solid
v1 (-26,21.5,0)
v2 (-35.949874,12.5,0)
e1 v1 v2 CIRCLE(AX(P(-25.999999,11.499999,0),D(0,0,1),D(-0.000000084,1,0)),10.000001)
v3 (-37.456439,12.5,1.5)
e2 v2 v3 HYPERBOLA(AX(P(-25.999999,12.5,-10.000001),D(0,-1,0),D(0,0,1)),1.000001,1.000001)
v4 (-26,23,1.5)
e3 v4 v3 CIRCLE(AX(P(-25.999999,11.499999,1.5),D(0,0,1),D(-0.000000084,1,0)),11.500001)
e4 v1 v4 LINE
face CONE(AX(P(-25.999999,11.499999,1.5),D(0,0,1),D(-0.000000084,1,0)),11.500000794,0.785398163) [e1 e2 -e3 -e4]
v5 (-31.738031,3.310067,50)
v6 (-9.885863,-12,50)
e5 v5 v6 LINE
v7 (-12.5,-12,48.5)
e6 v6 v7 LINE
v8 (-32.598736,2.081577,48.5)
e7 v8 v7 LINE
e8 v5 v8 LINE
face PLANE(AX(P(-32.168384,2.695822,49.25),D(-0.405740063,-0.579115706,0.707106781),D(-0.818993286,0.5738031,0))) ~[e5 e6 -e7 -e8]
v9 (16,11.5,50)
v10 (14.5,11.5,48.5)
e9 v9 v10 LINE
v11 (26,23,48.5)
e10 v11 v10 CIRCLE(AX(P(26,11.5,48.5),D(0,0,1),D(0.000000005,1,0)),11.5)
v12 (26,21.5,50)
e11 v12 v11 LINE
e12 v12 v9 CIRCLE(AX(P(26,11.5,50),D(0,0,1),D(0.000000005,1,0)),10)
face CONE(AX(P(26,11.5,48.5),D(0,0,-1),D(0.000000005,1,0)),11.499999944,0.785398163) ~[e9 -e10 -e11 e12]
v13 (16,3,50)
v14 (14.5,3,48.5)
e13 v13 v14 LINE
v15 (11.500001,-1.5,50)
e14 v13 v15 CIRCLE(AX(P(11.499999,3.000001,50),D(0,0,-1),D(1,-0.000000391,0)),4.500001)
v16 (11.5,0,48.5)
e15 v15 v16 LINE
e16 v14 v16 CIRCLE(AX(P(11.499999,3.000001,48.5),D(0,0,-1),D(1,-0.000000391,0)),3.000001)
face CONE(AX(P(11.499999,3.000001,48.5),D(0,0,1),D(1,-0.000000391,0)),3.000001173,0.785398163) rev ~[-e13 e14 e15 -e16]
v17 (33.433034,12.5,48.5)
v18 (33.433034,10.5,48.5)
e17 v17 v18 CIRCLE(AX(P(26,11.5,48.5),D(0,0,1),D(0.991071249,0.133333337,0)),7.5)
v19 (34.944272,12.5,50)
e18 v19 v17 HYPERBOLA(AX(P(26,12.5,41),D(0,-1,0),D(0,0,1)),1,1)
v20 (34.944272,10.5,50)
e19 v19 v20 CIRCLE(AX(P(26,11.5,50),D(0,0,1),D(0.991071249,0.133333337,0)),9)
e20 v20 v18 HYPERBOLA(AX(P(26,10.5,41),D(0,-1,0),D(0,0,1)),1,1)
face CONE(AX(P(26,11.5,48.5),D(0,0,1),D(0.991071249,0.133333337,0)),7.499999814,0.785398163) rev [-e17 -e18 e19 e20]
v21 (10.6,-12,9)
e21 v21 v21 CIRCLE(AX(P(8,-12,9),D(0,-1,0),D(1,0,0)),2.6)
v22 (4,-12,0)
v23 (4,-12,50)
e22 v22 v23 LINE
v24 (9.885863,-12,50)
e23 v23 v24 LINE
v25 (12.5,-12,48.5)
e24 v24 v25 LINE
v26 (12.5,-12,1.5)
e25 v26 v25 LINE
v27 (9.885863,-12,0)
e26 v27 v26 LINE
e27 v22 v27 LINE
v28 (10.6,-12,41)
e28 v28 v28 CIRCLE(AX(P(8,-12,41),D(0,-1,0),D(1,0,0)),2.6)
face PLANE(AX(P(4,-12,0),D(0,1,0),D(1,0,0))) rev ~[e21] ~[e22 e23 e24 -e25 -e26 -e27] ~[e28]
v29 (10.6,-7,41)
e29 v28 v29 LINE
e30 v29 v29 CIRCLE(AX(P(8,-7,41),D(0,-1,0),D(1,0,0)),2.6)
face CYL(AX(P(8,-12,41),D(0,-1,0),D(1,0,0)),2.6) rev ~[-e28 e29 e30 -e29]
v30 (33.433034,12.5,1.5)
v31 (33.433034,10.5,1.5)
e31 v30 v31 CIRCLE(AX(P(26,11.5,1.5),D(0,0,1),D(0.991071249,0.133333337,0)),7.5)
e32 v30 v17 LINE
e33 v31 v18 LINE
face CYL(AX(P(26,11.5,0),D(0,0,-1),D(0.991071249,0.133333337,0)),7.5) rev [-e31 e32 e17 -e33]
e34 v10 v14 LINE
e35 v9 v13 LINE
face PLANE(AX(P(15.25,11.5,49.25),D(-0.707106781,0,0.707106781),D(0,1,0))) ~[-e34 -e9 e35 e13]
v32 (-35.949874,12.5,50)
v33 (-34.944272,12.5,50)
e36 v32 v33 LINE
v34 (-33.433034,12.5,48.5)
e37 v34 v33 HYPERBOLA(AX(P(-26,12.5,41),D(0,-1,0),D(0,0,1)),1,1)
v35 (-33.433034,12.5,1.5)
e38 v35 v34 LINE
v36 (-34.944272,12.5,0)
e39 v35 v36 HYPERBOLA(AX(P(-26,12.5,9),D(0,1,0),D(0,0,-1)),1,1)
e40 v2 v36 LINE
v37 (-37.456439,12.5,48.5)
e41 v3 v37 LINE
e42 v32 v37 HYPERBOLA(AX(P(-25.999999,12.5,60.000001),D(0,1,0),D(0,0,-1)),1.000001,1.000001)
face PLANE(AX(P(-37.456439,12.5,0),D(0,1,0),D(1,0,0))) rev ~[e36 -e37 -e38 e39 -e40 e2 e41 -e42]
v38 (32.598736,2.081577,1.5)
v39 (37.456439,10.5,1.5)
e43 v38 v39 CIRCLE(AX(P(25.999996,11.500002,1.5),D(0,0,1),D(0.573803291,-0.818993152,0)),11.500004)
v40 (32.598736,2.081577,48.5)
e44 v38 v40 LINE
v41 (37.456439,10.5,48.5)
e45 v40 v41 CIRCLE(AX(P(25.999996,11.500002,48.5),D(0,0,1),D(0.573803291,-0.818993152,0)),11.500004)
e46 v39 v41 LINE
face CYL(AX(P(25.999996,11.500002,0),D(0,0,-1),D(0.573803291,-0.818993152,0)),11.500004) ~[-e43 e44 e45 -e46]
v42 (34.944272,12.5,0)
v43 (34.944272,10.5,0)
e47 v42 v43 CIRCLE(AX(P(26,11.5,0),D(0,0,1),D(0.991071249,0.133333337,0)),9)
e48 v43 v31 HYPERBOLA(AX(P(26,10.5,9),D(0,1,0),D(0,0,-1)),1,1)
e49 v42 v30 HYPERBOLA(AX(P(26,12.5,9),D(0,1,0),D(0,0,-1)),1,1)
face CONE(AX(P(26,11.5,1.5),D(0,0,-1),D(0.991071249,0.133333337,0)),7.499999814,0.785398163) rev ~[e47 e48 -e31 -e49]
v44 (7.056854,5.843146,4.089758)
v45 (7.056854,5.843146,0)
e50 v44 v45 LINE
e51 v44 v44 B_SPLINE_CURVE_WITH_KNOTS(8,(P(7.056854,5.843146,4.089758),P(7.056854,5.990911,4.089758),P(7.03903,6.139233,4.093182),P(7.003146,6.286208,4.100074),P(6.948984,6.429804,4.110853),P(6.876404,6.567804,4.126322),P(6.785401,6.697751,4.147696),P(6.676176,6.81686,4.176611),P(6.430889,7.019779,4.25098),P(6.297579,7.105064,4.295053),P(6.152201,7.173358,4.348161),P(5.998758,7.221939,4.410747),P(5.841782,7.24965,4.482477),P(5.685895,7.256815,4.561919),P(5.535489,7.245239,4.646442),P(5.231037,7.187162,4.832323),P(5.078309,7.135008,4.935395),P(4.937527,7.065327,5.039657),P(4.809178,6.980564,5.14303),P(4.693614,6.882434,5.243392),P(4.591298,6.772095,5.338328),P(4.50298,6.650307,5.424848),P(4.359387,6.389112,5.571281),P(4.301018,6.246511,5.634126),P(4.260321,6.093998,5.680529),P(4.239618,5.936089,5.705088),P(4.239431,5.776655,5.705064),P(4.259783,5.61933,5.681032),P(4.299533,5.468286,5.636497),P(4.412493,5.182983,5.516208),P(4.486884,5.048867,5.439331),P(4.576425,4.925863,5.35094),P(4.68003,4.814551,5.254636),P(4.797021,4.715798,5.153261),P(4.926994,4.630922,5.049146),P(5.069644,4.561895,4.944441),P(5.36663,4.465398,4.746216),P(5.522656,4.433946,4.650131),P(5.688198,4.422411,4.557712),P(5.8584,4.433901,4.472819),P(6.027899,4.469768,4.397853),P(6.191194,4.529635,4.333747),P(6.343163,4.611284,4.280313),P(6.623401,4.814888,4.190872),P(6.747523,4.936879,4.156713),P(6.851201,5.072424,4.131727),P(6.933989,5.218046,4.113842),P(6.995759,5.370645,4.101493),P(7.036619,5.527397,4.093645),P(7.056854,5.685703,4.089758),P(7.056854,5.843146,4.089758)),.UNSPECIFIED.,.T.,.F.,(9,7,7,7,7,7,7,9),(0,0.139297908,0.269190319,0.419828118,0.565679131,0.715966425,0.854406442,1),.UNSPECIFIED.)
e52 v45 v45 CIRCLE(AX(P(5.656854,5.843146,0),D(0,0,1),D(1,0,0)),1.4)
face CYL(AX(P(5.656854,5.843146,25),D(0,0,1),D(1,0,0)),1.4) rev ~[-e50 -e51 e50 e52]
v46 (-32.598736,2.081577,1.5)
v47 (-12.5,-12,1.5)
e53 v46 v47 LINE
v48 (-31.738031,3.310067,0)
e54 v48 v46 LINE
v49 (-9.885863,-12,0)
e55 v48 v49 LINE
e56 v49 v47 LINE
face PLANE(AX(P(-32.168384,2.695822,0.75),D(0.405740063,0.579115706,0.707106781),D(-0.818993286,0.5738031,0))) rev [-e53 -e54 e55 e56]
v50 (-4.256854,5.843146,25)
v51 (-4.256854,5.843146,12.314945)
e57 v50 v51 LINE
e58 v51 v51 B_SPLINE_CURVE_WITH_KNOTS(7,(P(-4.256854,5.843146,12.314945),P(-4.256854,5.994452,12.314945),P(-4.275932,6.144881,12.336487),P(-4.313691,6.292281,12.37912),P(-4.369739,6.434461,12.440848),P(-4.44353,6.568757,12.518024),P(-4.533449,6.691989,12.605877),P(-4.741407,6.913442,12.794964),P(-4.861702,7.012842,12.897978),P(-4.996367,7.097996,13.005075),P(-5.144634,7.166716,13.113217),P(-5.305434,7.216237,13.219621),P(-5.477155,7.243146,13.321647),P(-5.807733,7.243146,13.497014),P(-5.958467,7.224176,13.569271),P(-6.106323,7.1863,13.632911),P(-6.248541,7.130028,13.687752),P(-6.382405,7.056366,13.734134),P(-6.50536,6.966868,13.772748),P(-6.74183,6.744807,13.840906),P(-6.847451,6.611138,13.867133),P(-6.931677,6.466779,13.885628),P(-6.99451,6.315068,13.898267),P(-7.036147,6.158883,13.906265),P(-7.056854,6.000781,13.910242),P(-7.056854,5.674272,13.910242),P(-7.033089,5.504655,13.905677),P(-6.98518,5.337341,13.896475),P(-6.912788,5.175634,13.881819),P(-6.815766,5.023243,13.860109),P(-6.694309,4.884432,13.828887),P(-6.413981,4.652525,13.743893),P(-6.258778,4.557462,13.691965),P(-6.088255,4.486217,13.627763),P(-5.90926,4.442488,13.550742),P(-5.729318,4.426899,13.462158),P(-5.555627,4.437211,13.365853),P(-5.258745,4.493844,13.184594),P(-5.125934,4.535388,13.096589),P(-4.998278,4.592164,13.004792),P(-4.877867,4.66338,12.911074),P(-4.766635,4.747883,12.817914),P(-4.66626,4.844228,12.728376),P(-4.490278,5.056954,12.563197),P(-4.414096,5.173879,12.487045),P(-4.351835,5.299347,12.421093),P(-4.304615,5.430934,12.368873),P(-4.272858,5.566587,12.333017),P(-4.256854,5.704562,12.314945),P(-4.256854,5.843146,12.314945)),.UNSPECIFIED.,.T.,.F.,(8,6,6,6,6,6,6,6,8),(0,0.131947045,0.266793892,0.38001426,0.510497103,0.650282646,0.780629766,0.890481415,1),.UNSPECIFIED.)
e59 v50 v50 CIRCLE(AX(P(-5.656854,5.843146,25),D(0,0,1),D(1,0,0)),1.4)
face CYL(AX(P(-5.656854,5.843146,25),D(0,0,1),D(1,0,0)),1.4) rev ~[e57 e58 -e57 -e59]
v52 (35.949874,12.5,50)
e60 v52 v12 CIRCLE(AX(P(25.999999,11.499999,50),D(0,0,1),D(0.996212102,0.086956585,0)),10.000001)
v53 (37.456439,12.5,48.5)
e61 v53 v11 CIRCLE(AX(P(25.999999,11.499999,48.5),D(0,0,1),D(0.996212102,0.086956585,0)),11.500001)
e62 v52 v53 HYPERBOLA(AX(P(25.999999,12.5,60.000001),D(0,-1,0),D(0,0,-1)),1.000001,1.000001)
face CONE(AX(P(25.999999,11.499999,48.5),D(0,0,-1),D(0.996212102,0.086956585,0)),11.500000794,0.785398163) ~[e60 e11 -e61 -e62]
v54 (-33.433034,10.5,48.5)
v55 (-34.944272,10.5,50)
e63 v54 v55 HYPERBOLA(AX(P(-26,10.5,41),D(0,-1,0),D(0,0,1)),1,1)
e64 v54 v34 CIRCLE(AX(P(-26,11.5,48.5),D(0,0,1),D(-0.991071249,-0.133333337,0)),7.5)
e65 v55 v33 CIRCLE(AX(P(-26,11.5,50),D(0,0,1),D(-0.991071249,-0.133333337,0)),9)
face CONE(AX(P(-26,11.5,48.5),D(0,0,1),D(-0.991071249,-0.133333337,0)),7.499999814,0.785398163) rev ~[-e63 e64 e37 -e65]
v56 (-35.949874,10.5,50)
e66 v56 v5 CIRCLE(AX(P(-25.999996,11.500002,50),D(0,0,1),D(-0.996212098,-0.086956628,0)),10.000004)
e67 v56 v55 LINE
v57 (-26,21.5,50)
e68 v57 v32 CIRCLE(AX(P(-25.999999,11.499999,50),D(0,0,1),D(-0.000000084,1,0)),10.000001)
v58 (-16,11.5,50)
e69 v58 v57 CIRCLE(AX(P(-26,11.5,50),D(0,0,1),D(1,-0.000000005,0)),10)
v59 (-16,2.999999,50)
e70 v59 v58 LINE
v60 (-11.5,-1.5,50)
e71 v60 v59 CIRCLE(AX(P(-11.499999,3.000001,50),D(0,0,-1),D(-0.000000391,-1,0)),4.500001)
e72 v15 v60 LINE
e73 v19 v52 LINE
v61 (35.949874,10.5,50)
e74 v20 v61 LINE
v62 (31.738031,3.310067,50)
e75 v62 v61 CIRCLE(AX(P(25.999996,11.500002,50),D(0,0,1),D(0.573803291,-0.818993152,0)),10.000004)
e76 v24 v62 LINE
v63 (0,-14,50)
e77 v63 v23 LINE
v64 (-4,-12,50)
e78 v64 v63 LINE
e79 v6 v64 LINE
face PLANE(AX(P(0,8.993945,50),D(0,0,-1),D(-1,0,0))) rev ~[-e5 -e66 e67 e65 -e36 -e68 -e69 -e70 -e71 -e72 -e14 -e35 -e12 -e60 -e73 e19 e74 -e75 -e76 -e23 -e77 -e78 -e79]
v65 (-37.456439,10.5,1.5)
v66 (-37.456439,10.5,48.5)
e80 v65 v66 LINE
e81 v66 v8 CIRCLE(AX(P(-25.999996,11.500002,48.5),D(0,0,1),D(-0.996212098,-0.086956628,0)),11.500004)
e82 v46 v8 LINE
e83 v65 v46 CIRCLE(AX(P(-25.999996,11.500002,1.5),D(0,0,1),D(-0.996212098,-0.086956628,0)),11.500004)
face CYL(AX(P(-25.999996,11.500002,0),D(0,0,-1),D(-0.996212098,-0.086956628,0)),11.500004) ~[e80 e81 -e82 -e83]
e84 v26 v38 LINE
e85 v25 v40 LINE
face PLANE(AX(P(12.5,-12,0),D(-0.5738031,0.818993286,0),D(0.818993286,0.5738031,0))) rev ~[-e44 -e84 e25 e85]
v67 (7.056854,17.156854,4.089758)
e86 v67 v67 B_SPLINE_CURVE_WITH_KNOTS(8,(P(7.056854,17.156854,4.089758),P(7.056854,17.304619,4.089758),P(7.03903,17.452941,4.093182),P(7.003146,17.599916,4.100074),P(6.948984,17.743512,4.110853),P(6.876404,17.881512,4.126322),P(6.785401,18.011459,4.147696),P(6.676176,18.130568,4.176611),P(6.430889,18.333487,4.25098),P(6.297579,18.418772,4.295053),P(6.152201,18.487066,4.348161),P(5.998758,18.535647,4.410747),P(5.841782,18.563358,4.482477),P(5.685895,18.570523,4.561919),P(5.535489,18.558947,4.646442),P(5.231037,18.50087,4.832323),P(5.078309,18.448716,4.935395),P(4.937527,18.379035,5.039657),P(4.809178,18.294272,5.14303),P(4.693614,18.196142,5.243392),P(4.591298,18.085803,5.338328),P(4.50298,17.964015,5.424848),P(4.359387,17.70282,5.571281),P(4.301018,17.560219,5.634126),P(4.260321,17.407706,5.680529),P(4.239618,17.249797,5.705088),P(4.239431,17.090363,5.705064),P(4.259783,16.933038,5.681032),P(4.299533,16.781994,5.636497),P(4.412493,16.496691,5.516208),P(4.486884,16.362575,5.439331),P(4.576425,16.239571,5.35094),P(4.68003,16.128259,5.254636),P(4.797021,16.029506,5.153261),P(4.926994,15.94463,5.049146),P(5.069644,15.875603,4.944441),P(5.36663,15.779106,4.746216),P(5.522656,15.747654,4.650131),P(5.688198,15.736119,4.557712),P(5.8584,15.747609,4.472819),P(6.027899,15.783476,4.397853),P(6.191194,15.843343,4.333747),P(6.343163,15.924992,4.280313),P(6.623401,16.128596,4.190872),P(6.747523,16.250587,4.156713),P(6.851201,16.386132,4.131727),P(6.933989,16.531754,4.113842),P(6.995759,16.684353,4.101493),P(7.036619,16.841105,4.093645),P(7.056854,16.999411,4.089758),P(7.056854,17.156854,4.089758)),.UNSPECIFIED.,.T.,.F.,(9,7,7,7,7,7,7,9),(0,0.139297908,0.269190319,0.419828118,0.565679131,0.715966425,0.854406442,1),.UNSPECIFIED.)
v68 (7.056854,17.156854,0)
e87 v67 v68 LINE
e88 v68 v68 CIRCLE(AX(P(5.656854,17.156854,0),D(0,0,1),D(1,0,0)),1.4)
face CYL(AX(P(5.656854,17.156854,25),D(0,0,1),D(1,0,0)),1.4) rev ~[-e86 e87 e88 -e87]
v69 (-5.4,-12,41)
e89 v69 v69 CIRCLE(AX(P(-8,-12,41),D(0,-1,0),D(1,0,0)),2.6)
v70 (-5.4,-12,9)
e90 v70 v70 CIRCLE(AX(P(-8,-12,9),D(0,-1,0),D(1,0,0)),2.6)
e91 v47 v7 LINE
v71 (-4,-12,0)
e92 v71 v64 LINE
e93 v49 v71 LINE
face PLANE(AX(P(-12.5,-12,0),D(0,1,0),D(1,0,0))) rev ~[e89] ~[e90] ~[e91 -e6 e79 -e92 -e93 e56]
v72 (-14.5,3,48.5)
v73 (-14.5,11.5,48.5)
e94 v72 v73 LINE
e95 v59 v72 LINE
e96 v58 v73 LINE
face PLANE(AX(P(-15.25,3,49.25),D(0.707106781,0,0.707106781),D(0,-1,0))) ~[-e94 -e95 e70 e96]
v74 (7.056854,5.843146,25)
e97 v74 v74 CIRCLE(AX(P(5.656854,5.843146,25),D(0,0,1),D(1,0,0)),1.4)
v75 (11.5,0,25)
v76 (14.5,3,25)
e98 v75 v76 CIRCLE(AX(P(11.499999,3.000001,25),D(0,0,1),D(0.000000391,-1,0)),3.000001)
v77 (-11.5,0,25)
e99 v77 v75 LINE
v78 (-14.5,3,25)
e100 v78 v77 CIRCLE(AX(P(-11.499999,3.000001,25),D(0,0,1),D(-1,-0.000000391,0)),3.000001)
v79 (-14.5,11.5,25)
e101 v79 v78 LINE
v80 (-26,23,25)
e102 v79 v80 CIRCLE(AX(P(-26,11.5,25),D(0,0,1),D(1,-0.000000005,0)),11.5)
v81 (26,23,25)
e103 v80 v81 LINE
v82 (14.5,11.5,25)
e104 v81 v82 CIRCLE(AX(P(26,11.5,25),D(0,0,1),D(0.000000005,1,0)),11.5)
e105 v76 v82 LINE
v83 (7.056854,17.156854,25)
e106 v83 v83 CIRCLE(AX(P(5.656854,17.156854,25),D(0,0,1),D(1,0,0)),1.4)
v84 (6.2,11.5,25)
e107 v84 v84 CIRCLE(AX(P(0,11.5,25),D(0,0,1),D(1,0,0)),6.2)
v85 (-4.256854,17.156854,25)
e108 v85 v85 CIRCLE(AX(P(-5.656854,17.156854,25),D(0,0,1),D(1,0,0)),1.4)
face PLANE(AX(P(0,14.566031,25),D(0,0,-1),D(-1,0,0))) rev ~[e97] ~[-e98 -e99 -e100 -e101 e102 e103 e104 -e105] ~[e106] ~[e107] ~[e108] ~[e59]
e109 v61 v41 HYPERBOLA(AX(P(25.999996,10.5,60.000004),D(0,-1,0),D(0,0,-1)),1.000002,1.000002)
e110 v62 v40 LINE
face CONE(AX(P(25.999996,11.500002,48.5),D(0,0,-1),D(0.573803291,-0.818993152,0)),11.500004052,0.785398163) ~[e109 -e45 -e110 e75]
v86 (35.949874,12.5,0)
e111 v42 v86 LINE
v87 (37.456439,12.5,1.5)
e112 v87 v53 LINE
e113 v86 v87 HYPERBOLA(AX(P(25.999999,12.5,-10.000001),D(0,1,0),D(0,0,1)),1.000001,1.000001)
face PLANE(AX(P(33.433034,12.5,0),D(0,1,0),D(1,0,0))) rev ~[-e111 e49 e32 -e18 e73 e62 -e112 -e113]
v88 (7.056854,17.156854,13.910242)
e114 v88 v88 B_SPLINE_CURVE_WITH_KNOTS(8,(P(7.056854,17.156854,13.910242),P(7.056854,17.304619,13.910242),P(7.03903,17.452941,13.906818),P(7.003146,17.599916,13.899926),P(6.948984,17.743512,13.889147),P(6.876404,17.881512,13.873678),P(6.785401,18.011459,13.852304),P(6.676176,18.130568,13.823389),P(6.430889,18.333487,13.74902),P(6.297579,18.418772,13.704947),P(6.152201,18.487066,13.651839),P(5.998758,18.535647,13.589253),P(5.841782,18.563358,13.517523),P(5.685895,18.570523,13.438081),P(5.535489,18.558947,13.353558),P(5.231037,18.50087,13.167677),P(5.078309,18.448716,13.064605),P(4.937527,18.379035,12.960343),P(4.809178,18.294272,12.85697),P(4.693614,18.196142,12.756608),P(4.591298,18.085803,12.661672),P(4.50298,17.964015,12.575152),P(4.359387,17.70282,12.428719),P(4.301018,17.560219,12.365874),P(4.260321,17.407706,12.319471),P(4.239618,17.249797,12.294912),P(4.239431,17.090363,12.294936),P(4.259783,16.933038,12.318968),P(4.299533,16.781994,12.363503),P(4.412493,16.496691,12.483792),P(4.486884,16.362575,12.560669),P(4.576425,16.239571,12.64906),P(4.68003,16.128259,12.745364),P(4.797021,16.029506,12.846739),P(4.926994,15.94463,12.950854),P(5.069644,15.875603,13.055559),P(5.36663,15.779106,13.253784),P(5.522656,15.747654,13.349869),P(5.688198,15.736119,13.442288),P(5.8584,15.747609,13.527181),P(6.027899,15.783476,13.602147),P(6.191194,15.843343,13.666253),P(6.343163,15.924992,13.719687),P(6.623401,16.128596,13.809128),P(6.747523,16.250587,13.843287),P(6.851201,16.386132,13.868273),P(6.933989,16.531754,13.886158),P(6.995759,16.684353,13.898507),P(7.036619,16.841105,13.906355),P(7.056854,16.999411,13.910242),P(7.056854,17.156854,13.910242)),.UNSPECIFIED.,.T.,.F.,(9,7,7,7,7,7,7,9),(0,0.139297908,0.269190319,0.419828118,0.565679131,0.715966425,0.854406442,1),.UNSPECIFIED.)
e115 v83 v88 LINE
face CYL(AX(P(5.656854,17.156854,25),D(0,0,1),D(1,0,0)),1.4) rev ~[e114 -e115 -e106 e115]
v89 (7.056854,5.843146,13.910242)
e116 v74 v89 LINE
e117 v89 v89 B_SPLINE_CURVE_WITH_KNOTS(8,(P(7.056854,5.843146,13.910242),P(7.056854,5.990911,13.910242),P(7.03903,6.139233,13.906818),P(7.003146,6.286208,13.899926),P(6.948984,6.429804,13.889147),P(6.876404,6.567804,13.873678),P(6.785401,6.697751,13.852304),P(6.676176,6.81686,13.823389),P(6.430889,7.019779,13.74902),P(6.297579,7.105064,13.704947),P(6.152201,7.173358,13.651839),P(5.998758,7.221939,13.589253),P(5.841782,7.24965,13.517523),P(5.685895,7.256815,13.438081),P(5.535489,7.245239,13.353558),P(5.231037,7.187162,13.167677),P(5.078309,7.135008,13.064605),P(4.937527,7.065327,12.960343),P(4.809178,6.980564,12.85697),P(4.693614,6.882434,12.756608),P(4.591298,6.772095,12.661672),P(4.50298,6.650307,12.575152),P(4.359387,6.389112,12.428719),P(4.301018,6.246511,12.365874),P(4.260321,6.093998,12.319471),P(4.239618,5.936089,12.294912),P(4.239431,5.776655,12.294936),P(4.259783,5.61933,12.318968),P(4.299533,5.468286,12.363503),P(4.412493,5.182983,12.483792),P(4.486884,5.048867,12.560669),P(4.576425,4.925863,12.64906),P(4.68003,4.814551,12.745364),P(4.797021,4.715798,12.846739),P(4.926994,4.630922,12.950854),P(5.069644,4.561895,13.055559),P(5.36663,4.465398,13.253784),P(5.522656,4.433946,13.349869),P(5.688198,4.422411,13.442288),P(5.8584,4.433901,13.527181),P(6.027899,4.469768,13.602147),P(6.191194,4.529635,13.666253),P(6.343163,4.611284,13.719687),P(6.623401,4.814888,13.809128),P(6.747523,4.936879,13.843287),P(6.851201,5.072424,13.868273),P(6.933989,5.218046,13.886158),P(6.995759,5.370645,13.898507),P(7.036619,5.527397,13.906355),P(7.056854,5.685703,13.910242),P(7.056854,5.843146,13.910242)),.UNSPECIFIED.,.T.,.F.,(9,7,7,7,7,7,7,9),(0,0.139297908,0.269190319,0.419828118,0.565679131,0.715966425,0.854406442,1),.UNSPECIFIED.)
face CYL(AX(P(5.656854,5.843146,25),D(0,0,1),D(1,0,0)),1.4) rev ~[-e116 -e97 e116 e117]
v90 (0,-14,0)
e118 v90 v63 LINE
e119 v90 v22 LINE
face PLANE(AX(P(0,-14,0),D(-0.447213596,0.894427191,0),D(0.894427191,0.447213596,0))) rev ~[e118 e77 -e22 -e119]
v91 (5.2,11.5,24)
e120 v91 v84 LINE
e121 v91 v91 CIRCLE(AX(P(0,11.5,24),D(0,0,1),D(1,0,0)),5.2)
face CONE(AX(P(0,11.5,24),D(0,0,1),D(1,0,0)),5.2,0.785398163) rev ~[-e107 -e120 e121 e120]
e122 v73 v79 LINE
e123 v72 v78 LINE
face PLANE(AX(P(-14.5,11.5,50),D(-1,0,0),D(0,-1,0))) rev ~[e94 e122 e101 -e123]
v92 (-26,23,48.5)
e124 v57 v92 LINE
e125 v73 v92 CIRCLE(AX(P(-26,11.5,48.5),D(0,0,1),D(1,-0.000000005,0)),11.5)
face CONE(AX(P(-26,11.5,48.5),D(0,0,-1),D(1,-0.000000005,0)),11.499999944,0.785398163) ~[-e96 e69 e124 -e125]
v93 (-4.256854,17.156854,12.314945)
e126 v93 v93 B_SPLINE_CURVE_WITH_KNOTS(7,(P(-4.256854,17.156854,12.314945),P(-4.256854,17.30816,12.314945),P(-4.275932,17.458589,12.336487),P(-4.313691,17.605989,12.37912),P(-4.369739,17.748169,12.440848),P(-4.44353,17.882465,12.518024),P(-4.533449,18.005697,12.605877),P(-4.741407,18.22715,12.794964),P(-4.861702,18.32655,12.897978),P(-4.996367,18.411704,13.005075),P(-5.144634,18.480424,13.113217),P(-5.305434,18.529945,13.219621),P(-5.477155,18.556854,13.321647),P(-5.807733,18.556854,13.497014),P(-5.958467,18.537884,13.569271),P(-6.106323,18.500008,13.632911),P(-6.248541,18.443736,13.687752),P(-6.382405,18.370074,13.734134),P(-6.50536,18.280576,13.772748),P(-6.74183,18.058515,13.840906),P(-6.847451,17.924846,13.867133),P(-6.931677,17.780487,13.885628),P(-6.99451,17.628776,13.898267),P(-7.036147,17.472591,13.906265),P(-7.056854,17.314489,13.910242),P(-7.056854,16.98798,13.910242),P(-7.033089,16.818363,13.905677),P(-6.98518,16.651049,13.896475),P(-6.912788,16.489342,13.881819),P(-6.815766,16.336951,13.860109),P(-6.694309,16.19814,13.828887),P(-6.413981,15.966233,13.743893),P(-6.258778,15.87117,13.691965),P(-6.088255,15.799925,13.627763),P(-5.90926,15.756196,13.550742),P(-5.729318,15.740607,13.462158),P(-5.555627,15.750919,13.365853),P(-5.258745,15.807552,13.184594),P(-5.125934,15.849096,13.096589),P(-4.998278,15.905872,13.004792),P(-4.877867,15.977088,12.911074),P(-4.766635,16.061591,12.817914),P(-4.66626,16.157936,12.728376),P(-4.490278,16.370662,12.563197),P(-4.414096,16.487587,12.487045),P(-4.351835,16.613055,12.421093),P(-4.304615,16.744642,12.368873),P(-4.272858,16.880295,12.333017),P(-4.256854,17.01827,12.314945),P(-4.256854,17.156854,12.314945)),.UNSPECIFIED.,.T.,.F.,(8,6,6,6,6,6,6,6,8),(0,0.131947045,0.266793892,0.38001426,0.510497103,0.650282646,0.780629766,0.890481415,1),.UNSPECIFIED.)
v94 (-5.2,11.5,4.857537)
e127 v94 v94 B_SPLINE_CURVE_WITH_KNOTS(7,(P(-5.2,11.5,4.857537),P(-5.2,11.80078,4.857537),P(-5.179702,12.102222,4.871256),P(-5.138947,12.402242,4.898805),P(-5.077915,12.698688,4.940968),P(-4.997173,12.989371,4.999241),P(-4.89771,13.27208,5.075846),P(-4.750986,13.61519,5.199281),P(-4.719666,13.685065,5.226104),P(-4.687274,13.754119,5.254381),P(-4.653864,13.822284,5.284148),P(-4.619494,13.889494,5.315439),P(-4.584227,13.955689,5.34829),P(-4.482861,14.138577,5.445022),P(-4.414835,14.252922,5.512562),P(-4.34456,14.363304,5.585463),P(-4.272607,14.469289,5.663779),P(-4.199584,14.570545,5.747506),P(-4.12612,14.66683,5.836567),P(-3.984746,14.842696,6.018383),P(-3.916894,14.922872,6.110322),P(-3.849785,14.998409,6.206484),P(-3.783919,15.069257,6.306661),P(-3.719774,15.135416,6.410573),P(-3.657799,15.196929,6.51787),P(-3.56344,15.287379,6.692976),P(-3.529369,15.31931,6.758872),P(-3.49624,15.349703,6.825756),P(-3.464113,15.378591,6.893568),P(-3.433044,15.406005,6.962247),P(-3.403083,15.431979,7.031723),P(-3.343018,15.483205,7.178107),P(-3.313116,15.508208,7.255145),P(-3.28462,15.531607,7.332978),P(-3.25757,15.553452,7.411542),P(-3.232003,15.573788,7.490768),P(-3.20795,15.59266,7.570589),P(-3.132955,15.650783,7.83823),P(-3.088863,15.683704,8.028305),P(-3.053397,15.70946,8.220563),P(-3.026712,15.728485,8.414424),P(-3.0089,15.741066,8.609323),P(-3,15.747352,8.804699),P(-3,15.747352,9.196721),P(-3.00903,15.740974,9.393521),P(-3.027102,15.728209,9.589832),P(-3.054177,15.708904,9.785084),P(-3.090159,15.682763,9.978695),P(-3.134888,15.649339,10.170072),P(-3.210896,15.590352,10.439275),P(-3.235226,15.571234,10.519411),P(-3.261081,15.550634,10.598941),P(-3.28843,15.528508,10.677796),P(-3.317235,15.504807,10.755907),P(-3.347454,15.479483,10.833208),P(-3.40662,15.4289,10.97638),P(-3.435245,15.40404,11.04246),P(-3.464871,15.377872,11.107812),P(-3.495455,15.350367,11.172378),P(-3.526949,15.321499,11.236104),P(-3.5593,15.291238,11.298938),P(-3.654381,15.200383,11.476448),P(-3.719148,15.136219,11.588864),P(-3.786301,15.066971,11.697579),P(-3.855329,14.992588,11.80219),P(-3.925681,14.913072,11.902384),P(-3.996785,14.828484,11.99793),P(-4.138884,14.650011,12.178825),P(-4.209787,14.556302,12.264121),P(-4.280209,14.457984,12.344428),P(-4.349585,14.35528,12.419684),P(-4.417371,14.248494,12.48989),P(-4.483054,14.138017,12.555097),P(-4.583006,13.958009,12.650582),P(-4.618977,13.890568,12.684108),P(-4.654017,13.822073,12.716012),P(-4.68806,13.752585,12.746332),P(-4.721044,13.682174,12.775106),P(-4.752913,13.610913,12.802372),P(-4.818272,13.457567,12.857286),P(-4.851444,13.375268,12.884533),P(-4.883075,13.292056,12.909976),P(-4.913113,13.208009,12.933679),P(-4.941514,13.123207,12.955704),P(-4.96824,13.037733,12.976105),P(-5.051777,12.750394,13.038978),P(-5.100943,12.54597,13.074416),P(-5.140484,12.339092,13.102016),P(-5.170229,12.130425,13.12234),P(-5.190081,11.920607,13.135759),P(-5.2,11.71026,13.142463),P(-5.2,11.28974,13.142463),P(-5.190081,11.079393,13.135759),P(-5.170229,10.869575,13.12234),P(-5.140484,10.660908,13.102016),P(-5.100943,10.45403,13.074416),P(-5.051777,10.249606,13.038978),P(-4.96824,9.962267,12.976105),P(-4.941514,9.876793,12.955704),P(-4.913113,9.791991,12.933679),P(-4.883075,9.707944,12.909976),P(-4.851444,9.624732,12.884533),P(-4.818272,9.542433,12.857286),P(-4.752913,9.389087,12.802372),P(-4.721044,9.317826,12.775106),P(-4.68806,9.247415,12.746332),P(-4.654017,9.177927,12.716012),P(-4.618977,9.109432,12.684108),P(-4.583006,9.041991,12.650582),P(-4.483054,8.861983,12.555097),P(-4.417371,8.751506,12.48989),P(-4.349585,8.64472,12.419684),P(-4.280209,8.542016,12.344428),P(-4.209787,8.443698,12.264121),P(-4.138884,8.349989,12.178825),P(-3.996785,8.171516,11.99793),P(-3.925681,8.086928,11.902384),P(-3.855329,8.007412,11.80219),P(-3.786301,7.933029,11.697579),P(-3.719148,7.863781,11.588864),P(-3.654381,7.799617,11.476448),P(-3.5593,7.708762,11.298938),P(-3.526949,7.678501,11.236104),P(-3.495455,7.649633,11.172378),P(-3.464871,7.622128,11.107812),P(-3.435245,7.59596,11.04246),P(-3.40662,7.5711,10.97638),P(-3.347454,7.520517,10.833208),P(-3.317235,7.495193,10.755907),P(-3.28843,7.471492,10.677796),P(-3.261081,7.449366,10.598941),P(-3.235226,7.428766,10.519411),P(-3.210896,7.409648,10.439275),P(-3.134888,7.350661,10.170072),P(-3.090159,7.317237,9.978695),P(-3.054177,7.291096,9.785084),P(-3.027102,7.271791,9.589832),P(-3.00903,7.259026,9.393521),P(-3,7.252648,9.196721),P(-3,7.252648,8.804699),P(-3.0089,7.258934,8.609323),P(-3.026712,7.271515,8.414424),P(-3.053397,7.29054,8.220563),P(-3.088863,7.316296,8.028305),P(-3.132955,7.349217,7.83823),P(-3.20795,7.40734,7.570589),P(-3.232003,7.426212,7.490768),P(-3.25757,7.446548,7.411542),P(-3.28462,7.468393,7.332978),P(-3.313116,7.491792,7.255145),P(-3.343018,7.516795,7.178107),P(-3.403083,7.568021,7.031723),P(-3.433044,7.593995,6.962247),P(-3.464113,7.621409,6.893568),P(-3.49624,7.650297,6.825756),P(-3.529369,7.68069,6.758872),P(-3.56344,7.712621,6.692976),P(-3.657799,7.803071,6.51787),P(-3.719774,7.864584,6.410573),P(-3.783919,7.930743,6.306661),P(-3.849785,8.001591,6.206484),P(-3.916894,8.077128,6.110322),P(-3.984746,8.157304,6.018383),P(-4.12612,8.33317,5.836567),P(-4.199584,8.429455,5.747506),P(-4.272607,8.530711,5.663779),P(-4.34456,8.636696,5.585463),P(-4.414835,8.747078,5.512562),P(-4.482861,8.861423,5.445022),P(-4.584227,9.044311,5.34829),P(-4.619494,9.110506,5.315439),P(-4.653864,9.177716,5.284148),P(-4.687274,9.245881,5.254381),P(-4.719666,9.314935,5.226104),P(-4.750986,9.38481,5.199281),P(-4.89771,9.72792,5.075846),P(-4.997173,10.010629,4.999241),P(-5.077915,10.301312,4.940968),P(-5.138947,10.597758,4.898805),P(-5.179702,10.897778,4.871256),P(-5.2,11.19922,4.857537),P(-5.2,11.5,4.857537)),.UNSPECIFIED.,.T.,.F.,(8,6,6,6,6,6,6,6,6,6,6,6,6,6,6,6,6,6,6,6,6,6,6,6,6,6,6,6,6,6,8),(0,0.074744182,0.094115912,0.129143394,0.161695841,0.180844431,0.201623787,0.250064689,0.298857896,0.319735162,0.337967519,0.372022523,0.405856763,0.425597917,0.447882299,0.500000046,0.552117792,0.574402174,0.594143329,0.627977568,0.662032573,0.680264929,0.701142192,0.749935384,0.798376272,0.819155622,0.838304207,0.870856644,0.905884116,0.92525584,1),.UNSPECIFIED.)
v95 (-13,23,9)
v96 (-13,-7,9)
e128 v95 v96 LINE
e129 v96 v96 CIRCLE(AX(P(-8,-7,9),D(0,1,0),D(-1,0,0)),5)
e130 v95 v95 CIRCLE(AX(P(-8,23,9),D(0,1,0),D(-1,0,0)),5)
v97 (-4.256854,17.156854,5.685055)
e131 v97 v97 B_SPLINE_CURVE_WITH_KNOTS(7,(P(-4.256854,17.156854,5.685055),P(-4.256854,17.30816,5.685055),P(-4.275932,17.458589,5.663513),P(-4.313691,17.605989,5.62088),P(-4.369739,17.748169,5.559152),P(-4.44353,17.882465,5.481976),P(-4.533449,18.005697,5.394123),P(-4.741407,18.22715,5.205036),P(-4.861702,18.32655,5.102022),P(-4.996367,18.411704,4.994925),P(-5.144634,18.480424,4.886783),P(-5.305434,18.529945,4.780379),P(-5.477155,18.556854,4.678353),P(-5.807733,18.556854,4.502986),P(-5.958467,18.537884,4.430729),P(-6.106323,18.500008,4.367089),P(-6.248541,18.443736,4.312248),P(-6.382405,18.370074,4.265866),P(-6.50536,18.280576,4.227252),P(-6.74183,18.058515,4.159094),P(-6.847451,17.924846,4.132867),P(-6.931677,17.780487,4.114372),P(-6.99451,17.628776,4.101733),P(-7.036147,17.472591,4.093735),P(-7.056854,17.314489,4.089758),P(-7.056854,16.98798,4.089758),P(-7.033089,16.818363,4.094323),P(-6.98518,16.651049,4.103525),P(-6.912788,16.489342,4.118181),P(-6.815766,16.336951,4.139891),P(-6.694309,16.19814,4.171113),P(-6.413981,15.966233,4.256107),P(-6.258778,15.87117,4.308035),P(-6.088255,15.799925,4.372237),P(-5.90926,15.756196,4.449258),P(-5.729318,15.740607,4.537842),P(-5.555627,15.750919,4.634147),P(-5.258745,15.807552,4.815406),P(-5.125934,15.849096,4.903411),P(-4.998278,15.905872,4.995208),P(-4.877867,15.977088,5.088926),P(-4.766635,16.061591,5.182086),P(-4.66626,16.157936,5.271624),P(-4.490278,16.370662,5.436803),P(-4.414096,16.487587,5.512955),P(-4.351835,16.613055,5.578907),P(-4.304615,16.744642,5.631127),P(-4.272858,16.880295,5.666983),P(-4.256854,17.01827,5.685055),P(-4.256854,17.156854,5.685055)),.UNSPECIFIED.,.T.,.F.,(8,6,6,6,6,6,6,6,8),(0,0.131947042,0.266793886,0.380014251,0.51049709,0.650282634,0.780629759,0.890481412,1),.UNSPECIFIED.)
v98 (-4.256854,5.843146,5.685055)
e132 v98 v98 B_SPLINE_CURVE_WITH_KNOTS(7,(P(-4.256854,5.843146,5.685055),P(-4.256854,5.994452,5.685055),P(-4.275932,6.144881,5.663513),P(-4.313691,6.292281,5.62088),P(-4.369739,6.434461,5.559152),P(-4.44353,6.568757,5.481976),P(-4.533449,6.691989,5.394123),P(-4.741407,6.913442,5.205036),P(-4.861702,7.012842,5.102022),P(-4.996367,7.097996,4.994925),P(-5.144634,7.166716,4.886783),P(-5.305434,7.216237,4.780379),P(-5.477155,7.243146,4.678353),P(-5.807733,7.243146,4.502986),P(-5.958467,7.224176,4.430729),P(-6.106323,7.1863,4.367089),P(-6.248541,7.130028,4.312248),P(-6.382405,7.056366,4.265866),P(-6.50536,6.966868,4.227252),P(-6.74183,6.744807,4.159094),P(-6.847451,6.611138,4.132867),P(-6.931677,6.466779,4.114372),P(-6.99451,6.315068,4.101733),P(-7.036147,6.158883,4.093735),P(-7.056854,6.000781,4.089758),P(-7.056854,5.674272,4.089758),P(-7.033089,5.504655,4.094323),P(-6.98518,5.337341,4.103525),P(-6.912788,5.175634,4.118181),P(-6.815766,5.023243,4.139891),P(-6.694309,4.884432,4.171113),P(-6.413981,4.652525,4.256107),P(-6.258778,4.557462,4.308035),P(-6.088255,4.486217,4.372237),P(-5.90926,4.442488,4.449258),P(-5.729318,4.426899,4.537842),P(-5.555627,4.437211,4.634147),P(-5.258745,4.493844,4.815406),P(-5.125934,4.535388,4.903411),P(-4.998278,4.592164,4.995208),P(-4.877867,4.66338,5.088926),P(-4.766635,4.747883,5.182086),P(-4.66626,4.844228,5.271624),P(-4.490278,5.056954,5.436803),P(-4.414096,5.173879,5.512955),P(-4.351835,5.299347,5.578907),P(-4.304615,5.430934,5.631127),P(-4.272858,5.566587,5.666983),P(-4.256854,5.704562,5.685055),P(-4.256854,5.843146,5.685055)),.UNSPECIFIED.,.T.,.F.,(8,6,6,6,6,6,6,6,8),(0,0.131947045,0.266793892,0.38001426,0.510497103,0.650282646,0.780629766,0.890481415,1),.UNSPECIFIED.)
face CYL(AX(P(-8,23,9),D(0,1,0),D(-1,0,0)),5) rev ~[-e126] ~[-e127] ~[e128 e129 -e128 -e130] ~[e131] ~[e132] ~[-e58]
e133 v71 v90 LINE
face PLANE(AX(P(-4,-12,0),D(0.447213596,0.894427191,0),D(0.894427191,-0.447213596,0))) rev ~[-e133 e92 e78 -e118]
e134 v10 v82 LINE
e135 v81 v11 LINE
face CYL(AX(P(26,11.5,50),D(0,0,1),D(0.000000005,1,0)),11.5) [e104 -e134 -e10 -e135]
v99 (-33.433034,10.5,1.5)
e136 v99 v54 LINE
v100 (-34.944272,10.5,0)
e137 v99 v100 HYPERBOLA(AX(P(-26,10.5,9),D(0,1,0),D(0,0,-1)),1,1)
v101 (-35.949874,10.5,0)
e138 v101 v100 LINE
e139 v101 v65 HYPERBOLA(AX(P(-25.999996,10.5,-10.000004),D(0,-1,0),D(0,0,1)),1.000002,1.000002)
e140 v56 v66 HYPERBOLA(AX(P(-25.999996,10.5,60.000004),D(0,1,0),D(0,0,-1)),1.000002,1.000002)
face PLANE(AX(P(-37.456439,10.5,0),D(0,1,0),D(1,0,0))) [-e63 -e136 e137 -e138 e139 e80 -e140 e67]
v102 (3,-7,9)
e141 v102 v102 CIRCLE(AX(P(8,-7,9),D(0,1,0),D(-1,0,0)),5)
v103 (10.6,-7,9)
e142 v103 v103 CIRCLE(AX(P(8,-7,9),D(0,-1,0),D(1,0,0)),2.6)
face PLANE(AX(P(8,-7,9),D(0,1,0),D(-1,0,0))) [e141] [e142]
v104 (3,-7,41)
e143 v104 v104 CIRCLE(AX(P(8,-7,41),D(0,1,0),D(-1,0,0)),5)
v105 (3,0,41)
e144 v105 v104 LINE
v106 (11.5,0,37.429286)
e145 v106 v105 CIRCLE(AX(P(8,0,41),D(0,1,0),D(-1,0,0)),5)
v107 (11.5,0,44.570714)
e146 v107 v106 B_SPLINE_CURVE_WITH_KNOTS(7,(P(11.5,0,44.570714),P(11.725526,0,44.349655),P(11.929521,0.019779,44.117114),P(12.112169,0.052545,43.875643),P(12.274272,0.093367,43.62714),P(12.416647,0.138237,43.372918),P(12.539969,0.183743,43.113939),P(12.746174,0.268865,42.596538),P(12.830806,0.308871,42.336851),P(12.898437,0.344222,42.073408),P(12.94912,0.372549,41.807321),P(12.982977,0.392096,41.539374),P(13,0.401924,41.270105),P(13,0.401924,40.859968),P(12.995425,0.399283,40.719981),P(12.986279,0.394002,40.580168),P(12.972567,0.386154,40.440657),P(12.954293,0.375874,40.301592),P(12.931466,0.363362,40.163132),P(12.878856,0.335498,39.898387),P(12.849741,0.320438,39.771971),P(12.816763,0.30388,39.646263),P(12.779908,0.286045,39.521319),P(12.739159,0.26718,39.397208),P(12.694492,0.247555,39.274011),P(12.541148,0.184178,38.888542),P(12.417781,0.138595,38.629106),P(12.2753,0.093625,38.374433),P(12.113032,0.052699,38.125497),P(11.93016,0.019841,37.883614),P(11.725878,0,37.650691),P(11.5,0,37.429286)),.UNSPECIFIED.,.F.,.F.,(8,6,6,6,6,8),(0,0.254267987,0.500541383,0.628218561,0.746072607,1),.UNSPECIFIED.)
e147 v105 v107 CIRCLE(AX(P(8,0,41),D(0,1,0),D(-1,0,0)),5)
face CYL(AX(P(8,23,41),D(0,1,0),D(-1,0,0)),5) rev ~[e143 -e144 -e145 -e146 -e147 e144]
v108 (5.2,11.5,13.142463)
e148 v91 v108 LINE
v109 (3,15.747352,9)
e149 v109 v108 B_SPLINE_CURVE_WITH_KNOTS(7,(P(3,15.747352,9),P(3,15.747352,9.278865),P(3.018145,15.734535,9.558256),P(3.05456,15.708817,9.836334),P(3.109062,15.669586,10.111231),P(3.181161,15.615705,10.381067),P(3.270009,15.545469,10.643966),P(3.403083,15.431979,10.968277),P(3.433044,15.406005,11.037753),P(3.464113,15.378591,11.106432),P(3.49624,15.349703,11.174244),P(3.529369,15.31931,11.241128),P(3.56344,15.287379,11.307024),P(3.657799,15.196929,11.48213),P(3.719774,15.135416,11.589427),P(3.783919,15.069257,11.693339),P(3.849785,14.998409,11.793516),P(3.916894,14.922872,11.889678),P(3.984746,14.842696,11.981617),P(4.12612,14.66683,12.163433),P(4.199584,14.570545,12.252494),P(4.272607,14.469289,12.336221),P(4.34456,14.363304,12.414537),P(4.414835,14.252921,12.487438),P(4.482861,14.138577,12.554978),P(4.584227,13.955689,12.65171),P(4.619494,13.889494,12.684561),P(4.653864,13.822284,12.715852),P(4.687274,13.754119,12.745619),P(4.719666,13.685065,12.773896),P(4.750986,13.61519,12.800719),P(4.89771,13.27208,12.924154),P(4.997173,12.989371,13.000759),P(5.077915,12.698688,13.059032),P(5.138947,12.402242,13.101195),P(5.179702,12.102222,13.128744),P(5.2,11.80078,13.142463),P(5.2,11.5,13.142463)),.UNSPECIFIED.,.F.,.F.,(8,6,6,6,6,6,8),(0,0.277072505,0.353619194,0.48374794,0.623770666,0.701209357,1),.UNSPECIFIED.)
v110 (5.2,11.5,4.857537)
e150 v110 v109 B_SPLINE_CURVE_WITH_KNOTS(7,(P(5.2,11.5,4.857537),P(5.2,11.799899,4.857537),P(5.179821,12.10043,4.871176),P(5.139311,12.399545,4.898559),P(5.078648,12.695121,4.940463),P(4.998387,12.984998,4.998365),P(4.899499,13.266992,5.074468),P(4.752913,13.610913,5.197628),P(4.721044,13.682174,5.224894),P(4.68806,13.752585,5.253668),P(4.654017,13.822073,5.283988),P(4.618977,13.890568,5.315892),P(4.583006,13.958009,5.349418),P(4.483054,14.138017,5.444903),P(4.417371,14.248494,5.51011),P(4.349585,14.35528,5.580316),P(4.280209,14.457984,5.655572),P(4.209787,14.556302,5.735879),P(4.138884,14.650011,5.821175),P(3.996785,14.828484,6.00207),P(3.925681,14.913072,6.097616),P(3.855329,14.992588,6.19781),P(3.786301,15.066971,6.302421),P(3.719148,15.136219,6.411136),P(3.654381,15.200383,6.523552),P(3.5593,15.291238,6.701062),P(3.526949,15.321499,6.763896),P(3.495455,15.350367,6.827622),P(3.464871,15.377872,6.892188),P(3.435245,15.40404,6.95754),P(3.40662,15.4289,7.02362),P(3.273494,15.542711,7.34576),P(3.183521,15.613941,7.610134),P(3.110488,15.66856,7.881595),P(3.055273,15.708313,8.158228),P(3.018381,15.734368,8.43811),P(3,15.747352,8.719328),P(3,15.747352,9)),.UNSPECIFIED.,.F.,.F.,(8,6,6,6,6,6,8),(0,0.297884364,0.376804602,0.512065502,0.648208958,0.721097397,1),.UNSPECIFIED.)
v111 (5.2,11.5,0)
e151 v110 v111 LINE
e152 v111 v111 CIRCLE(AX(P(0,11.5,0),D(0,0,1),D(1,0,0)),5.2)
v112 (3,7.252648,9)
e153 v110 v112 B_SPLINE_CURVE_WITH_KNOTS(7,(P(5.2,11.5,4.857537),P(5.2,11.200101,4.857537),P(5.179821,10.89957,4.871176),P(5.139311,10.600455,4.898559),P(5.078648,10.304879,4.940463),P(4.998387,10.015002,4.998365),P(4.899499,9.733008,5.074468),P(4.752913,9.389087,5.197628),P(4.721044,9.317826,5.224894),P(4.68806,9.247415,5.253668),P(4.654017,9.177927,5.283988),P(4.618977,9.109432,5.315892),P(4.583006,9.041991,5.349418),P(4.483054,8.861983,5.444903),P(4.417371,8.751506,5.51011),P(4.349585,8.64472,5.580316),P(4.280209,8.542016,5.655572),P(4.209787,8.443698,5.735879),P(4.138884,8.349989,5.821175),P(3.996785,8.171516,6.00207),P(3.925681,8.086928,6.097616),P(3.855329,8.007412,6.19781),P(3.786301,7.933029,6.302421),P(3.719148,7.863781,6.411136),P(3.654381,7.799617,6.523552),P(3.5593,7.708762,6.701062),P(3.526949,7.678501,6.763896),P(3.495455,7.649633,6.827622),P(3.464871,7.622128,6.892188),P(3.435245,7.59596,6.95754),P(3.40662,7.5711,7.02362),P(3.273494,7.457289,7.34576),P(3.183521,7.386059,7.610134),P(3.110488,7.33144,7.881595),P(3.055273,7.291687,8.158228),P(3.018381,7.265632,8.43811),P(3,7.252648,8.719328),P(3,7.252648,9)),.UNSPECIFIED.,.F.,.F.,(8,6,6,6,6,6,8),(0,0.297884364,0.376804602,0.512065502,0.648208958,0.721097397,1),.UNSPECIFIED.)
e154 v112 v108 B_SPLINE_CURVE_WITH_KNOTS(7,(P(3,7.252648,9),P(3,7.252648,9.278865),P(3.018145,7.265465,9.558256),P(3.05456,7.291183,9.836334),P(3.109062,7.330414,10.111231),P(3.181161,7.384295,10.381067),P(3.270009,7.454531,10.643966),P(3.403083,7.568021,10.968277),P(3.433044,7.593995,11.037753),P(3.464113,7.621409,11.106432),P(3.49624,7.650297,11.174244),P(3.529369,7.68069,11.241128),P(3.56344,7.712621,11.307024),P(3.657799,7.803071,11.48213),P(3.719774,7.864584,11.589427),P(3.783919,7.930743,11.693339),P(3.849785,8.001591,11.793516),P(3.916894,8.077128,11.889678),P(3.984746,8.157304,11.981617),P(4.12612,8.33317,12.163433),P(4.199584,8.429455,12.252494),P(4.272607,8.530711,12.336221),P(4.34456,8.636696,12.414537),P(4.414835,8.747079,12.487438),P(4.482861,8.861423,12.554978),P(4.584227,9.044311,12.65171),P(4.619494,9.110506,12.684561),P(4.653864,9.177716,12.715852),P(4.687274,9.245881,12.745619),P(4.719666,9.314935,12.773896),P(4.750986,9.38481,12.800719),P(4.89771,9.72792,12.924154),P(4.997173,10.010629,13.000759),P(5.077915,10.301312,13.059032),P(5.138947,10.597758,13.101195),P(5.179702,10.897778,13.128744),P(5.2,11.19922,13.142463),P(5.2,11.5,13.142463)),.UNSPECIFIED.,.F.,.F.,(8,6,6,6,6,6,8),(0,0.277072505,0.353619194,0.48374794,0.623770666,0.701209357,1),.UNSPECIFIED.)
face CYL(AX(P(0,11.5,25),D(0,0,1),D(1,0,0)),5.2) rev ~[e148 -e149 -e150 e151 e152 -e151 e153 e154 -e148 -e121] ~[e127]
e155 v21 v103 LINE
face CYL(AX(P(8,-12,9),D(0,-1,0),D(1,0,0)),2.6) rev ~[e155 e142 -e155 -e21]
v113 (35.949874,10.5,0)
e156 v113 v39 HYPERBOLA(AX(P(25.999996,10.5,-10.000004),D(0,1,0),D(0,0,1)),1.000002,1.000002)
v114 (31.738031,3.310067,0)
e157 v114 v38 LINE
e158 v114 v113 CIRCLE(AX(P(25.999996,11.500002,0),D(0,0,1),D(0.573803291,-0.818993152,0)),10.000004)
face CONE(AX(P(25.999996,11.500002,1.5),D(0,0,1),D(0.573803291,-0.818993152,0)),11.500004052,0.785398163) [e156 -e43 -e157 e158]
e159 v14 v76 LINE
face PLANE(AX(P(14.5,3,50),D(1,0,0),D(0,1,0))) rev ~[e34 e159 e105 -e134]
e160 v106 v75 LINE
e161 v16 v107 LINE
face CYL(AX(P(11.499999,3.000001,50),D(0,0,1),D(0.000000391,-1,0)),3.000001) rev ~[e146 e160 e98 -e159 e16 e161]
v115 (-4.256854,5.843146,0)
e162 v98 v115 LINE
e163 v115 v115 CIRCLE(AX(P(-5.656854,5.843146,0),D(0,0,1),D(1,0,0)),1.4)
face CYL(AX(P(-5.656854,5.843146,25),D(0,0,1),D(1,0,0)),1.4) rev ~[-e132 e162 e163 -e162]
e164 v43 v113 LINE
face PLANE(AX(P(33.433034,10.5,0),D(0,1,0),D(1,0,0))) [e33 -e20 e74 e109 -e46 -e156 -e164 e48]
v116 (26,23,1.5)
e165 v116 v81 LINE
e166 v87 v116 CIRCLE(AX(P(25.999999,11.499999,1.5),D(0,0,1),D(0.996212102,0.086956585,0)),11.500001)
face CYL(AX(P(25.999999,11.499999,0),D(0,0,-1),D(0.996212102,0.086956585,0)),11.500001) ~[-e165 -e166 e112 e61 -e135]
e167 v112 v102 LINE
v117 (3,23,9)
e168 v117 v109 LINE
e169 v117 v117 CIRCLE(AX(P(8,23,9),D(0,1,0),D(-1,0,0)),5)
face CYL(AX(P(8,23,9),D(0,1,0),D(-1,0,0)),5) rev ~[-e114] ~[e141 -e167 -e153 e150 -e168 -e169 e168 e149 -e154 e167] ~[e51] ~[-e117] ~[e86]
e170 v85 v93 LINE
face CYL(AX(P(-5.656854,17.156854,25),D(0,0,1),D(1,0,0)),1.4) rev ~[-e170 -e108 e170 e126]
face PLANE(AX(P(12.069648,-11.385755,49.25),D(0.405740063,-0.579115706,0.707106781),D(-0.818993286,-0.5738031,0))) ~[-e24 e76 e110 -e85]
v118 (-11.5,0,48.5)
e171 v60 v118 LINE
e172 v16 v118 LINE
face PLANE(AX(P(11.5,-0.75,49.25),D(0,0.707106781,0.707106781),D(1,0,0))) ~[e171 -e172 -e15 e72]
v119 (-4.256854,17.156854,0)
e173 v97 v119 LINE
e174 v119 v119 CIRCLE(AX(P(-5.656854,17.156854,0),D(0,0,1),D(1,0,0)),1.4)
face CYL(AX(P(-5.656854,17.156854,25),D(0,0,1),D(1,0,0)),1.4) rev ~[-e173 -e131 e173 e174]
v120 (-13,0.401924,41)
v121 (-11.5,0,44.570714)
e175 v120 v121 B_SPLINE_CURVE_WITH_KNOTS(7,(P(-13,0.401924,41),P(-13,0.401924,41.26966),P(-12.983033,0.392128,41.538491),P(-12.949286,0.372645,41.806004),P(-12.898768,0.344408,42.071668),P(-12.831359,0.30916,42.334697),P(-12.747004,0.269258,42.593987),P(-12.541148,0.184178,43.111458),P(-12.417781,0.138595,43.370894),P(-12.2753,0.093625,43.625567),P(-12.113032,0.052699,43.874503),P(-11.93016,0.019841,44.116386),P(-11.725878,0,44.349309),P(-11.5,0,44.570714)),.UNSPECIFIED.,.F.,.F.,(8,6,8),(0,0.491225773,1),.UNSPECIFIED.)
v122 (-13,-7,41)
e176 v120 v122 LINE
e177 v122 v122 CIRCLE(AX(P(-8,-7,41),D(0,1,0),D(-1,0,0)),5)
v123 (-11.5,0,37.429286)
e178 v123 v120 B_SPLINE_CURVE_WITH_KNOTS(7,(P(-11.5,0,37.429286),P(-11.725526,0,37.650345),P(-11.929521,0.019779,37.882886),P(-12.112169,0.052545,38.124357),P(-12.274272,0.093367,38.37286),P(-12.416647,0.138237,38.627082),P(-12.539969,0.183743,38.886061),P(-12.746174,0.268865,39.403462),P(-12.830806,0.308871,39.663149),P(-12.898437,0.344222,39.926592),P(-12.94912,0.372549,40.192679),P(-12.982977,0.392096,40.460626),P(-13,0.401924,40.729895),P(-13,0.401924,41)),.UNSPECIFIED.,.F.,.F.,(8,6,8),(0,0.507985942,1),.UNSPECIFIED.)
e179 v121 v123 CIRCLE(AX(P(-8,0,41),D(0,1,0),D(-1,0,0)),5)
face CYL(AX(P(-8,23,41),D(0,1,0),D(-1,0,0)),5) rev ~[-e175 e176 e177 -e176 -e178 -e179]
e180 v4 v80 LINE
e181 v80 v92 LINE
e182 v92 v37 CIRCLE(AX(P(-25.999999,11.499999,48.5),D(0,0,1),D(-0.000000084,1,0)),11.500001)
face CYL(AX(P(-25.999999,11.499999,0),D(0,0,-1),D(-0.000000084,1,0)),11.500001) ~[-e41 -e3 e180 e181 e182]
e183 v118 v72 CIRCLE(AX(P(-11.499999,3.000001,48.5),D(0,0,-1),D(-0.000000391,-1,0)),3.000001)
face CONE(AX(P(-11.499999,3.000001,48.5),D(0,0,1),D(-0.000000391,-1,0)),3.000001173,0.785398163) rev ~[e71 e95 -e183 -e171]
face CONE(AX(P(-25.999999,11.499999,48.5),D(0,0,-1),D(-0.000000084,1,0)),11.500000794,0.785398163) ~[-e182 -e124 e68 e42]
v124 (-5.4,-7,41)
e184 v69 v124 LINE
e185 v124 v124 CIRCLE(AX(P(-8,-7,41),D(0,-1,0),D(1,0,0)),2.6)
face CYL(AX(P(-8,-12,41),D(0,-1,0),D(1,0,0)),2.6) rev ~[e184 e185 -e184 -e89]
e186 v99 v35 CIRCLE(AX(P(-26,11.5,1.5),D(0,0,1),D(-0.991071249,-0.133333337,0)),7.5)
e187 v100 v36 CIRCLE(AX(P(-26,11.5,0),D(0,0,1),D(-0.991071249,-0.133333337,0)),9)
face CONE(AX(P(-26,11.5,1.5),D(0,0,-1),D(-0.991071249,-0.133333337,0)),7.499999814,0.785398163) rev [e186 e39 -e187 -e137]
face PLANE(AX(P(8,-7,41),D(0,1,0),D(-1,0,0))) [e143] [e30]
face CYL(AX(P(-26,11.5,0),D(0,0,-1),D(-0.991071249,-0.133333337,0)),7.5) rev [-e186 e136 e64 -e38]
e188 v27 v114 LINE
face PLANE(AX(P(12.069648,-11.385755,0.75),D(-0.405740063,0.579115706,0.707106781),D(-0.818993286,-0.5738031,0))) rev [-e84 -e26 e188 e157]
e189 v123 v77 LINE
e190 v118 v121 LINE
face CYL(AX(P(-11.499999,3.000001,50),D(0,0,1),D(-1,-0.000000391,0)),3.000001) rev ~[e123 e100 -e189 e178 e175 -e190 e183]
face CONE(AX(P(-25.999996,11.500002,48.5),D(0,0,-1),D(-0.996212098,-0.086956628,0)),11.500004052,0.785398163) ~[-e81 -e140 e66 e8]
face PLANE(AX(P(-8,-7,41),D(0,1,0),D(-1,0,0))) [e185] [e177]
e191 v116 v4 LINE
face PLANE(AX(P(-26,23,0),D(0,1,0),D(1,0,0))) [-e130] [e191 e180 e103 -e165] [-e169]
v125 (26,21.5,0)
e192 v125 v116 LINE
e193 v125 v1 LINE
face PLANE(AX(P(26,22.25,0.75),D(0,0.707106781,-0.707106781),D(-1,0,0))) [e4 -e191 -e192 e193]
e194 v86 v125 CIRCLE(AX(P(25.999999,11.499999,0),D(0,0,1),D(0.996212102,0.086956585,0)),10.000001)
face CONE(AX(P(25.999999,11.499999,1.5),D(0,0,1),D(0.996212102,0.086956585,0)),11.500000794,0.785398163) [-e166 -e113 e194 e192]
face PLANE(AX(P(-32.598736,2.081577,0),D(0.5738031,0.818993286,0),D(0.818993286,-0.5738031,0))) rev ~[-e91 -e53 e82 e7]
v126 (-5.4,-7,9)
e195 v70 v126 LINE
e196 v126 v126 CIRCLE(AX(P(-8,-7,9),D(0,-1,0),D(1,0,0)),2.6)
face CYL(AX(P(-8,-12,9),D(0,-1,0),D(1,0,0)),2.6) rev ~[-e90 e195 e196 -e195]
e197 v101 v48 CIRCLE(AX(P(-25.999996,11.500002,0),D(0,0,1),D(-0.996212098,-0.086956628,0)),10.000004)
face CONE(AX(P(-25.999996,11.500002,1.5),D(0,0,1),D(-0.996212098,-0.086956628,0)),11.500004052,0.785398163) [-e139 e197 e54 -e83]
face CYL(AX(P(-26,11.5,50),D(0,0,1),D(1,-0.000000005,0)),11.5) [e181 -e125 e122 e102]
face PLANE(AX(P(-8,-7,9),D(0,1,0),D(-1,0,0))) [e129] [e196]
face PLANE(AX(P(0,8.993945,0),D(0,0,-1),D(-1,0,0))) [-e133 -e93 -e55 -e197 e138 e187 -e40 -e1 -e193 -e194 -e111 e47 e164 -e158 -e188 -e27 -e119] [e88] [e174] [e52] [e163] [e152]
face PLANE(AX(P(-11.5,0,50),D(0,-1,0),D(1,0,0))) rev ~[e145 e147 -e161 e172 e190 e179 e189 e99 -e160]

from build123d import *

# Parameters (mm, degrees)
PAD_DEPTH       = 50
POCKET_DEPTH    = 25
SKETCH002_R     = 2.6
POCKET001_DEPTH = 35.001
SKETCH003_R     = 5
POCKET002_DEPTH = 30
SKETCH004_R     = 5.2
SKETCH004_R_2   = 1.4
POCKET003_DEPTH = 25.001
CHAMFER_SIZE    = 1.5
CHAMFER001_SIZE = 1


with BuildPart() as part:
    # Sketch → Pad (new body)
    with BuildSketch(Plane.XY):
        with BuildLine():
            ThreePointArc((-33.433034, 10.5), (-18.5, 11.5), (-33.433034, 12.5))
            Line((-37.456439, 12.5), (-33.433034, 12.5))
            ThreePointArc((-26, 23), (-33.770135, 19.977912), (-37.456439, 12.5))
            Line((-26, 23), (26, 23))
            ThreePointArc((37.456439, 12.5), (33.770135, 19.977912), (26, 23))
            Line((33.433034, 12.5), (37.456439, 12.5))
            ThreePointArc((33.433034, 12.5), (18.5, 11.5), (33.433034, 10.5))
            Line((33.433034, 10.5), (37.456439, 10.5))
            ThreePointArc((32.598736, 2.081577), (35.960662, 5.752374), (37.456439, 10.5))
            Line((12.5, -12), (32.598736, 2.081577))
            Line((4, -12), (12.5, -12))
            Line((0, -14), (4, -12))
            Line((-4, -12), (0, -14))
            Line((-12.5, -12), (-4, -12))
            Line((-32.598736, 2.081577), (-12.5, -12))
            ThreePointArc((-37.456439, 10.5), (-35.960662, 5.752374), (-32.598736, 2.081577))
            Line((-37.456439, 10.5), (-33.433034, 10.5))
        make_face()
    extrude(amount=PAD_DEPTH)

    # Sketch001 (on Face19 of Pad) → Pocket (cut)
    with BuildSketch(Plane.XY.offset(50)):
        with BuildLine():
            Line((-26, 23), (26, 23))
            ThreePointArc((26, 23), (17.868272, 19.631728), (14.5, 11.5))
            Line((14.5, 3), (14.5, 11.5))
            ThreePointArc((11.5, 0), (13.62132, 0.87868), (14.5, 3))
            Line((-11.5, 0), (11.5, 0))
            ThreePointArc((-14.5, 3), (-13.62132, 0.87868), (-11.5, 0))
            Line((-14.5, 11.5), (-14.5, 3))
            ThreePointArc((-14.5, 11.5), (-17.868272, 19.631728), (-26, 23))
        make_face()
    extrude(amount=-POCKET_DEPTH, mode=Mode.SUBTRACT)

    # Sketch002 (on Face19 of Pocket) → Pocket001 (cut, through all)
    with BuildSketch(Plane.XZ.offset(12)):
        with Locations((-8, 41)):
            Circle(SKETCH002_R)
        with Locations((8, 41)):
            Circle(SKETCH002_R)
        with Locations((-8, 9)):
            Circle(SKETCH002_R)
        with Locations((8, 9)):
            Circle(SKETCH002_R)
    extrude(amount=-POCKET001_DEPTH, mode=Mode.SUBTRACT)

    # Sketch003 (on Face9 of Pocket001) → Pocket002 (cut)
    with BuildSketch(Plane(origin=(0, 23, 0), x_dir=(-1, 0, 0), z_dir=(0, 1, 0))):
        with Locations((-8, 41)):
            Circle(SKETCH003_R)
        with Locations((8, 41)):
            Circle(SKETCH003_R)
        with Locations((8, 9)):
            Circle(SKETCH003_R)
        with Locations((-8, 9)):
            Circle(SKETCH003_R)
    extrude(amount=-POCKET002_DEPTH, mode=Mode.SUBTRACT)

    # Sketch004 (on Face27 of Pocket002) → Pocket003 (cut, through all)
    with BuildSketch(Plane.XY.offset(25)):
        with Locations((0, 11.5)):
            Circle(SKETCH004_R)
        with Locations((-5.656854, 17.156854)):
            Circle(SKETCH004_R_2)
        with Locations((5.656854, 17.156854)):
            Circle(SKETCH004_R_2)
        with Locations((5.656854, 5.843146)):
            Circle(SKETCH004_R_2)
        with Locations((-5.656854, 5.843146)):
            Circle(SKETCH004_R_2)
    extrude(amount=-POCKET003_DEPTH, mode=Mode.SUBTRACT)

    # Chamfer
    chamfer_edges = [part.edges().sort_by_distance(p)[0] for p in [
        (17.868272, 19.631728, 50),
        (33.770135, 19.977912, 50),
        (14.5, 7.25, 50),
        (13.62132, 0.87868, 50),
        (0, 0, 50),
        (-13.62132, 0.87868, 50),
        (-14.5, 7.25, 50),
        (-17.868272, 19.631728, 50),
        (-33.770135, 19.977912, 50),
        (-35.960662, 5.752374, 50),
        (-22.549368, -4.959211, 50),
        (22.549368, -4.959211, 50),
        (35.960662, 5.752374, 50),
        (18.5, 11.5, 50),
        (-18.5, 11.5, 50),
        (33.770135, 19.977912, 0),
        (0, 23, 0),
        (-33.770135, 19.977912, 0),
        (-18.5, 11.5, 0),
        (-35.960662, 5.752374, 0),
        (-22.549368, -4.959211, 0),
        (22.549368, -4.959211, 0),
        (35.960662, 5.752374, 0),
        (18.5, 11.5, 0),
    ]]
    chamfer(chamfer_edges, length=CHAMFER_SIZE)

    # Chamfer001
    chamfer001_edges = [part.edges().sort_by_distance(p)[0] for p in [
        (-5.2, 11.5, 25),
    ]]
    chamfer(chamfer001_edges, length=CHAMFER001_SIZE)


solid = part.part
